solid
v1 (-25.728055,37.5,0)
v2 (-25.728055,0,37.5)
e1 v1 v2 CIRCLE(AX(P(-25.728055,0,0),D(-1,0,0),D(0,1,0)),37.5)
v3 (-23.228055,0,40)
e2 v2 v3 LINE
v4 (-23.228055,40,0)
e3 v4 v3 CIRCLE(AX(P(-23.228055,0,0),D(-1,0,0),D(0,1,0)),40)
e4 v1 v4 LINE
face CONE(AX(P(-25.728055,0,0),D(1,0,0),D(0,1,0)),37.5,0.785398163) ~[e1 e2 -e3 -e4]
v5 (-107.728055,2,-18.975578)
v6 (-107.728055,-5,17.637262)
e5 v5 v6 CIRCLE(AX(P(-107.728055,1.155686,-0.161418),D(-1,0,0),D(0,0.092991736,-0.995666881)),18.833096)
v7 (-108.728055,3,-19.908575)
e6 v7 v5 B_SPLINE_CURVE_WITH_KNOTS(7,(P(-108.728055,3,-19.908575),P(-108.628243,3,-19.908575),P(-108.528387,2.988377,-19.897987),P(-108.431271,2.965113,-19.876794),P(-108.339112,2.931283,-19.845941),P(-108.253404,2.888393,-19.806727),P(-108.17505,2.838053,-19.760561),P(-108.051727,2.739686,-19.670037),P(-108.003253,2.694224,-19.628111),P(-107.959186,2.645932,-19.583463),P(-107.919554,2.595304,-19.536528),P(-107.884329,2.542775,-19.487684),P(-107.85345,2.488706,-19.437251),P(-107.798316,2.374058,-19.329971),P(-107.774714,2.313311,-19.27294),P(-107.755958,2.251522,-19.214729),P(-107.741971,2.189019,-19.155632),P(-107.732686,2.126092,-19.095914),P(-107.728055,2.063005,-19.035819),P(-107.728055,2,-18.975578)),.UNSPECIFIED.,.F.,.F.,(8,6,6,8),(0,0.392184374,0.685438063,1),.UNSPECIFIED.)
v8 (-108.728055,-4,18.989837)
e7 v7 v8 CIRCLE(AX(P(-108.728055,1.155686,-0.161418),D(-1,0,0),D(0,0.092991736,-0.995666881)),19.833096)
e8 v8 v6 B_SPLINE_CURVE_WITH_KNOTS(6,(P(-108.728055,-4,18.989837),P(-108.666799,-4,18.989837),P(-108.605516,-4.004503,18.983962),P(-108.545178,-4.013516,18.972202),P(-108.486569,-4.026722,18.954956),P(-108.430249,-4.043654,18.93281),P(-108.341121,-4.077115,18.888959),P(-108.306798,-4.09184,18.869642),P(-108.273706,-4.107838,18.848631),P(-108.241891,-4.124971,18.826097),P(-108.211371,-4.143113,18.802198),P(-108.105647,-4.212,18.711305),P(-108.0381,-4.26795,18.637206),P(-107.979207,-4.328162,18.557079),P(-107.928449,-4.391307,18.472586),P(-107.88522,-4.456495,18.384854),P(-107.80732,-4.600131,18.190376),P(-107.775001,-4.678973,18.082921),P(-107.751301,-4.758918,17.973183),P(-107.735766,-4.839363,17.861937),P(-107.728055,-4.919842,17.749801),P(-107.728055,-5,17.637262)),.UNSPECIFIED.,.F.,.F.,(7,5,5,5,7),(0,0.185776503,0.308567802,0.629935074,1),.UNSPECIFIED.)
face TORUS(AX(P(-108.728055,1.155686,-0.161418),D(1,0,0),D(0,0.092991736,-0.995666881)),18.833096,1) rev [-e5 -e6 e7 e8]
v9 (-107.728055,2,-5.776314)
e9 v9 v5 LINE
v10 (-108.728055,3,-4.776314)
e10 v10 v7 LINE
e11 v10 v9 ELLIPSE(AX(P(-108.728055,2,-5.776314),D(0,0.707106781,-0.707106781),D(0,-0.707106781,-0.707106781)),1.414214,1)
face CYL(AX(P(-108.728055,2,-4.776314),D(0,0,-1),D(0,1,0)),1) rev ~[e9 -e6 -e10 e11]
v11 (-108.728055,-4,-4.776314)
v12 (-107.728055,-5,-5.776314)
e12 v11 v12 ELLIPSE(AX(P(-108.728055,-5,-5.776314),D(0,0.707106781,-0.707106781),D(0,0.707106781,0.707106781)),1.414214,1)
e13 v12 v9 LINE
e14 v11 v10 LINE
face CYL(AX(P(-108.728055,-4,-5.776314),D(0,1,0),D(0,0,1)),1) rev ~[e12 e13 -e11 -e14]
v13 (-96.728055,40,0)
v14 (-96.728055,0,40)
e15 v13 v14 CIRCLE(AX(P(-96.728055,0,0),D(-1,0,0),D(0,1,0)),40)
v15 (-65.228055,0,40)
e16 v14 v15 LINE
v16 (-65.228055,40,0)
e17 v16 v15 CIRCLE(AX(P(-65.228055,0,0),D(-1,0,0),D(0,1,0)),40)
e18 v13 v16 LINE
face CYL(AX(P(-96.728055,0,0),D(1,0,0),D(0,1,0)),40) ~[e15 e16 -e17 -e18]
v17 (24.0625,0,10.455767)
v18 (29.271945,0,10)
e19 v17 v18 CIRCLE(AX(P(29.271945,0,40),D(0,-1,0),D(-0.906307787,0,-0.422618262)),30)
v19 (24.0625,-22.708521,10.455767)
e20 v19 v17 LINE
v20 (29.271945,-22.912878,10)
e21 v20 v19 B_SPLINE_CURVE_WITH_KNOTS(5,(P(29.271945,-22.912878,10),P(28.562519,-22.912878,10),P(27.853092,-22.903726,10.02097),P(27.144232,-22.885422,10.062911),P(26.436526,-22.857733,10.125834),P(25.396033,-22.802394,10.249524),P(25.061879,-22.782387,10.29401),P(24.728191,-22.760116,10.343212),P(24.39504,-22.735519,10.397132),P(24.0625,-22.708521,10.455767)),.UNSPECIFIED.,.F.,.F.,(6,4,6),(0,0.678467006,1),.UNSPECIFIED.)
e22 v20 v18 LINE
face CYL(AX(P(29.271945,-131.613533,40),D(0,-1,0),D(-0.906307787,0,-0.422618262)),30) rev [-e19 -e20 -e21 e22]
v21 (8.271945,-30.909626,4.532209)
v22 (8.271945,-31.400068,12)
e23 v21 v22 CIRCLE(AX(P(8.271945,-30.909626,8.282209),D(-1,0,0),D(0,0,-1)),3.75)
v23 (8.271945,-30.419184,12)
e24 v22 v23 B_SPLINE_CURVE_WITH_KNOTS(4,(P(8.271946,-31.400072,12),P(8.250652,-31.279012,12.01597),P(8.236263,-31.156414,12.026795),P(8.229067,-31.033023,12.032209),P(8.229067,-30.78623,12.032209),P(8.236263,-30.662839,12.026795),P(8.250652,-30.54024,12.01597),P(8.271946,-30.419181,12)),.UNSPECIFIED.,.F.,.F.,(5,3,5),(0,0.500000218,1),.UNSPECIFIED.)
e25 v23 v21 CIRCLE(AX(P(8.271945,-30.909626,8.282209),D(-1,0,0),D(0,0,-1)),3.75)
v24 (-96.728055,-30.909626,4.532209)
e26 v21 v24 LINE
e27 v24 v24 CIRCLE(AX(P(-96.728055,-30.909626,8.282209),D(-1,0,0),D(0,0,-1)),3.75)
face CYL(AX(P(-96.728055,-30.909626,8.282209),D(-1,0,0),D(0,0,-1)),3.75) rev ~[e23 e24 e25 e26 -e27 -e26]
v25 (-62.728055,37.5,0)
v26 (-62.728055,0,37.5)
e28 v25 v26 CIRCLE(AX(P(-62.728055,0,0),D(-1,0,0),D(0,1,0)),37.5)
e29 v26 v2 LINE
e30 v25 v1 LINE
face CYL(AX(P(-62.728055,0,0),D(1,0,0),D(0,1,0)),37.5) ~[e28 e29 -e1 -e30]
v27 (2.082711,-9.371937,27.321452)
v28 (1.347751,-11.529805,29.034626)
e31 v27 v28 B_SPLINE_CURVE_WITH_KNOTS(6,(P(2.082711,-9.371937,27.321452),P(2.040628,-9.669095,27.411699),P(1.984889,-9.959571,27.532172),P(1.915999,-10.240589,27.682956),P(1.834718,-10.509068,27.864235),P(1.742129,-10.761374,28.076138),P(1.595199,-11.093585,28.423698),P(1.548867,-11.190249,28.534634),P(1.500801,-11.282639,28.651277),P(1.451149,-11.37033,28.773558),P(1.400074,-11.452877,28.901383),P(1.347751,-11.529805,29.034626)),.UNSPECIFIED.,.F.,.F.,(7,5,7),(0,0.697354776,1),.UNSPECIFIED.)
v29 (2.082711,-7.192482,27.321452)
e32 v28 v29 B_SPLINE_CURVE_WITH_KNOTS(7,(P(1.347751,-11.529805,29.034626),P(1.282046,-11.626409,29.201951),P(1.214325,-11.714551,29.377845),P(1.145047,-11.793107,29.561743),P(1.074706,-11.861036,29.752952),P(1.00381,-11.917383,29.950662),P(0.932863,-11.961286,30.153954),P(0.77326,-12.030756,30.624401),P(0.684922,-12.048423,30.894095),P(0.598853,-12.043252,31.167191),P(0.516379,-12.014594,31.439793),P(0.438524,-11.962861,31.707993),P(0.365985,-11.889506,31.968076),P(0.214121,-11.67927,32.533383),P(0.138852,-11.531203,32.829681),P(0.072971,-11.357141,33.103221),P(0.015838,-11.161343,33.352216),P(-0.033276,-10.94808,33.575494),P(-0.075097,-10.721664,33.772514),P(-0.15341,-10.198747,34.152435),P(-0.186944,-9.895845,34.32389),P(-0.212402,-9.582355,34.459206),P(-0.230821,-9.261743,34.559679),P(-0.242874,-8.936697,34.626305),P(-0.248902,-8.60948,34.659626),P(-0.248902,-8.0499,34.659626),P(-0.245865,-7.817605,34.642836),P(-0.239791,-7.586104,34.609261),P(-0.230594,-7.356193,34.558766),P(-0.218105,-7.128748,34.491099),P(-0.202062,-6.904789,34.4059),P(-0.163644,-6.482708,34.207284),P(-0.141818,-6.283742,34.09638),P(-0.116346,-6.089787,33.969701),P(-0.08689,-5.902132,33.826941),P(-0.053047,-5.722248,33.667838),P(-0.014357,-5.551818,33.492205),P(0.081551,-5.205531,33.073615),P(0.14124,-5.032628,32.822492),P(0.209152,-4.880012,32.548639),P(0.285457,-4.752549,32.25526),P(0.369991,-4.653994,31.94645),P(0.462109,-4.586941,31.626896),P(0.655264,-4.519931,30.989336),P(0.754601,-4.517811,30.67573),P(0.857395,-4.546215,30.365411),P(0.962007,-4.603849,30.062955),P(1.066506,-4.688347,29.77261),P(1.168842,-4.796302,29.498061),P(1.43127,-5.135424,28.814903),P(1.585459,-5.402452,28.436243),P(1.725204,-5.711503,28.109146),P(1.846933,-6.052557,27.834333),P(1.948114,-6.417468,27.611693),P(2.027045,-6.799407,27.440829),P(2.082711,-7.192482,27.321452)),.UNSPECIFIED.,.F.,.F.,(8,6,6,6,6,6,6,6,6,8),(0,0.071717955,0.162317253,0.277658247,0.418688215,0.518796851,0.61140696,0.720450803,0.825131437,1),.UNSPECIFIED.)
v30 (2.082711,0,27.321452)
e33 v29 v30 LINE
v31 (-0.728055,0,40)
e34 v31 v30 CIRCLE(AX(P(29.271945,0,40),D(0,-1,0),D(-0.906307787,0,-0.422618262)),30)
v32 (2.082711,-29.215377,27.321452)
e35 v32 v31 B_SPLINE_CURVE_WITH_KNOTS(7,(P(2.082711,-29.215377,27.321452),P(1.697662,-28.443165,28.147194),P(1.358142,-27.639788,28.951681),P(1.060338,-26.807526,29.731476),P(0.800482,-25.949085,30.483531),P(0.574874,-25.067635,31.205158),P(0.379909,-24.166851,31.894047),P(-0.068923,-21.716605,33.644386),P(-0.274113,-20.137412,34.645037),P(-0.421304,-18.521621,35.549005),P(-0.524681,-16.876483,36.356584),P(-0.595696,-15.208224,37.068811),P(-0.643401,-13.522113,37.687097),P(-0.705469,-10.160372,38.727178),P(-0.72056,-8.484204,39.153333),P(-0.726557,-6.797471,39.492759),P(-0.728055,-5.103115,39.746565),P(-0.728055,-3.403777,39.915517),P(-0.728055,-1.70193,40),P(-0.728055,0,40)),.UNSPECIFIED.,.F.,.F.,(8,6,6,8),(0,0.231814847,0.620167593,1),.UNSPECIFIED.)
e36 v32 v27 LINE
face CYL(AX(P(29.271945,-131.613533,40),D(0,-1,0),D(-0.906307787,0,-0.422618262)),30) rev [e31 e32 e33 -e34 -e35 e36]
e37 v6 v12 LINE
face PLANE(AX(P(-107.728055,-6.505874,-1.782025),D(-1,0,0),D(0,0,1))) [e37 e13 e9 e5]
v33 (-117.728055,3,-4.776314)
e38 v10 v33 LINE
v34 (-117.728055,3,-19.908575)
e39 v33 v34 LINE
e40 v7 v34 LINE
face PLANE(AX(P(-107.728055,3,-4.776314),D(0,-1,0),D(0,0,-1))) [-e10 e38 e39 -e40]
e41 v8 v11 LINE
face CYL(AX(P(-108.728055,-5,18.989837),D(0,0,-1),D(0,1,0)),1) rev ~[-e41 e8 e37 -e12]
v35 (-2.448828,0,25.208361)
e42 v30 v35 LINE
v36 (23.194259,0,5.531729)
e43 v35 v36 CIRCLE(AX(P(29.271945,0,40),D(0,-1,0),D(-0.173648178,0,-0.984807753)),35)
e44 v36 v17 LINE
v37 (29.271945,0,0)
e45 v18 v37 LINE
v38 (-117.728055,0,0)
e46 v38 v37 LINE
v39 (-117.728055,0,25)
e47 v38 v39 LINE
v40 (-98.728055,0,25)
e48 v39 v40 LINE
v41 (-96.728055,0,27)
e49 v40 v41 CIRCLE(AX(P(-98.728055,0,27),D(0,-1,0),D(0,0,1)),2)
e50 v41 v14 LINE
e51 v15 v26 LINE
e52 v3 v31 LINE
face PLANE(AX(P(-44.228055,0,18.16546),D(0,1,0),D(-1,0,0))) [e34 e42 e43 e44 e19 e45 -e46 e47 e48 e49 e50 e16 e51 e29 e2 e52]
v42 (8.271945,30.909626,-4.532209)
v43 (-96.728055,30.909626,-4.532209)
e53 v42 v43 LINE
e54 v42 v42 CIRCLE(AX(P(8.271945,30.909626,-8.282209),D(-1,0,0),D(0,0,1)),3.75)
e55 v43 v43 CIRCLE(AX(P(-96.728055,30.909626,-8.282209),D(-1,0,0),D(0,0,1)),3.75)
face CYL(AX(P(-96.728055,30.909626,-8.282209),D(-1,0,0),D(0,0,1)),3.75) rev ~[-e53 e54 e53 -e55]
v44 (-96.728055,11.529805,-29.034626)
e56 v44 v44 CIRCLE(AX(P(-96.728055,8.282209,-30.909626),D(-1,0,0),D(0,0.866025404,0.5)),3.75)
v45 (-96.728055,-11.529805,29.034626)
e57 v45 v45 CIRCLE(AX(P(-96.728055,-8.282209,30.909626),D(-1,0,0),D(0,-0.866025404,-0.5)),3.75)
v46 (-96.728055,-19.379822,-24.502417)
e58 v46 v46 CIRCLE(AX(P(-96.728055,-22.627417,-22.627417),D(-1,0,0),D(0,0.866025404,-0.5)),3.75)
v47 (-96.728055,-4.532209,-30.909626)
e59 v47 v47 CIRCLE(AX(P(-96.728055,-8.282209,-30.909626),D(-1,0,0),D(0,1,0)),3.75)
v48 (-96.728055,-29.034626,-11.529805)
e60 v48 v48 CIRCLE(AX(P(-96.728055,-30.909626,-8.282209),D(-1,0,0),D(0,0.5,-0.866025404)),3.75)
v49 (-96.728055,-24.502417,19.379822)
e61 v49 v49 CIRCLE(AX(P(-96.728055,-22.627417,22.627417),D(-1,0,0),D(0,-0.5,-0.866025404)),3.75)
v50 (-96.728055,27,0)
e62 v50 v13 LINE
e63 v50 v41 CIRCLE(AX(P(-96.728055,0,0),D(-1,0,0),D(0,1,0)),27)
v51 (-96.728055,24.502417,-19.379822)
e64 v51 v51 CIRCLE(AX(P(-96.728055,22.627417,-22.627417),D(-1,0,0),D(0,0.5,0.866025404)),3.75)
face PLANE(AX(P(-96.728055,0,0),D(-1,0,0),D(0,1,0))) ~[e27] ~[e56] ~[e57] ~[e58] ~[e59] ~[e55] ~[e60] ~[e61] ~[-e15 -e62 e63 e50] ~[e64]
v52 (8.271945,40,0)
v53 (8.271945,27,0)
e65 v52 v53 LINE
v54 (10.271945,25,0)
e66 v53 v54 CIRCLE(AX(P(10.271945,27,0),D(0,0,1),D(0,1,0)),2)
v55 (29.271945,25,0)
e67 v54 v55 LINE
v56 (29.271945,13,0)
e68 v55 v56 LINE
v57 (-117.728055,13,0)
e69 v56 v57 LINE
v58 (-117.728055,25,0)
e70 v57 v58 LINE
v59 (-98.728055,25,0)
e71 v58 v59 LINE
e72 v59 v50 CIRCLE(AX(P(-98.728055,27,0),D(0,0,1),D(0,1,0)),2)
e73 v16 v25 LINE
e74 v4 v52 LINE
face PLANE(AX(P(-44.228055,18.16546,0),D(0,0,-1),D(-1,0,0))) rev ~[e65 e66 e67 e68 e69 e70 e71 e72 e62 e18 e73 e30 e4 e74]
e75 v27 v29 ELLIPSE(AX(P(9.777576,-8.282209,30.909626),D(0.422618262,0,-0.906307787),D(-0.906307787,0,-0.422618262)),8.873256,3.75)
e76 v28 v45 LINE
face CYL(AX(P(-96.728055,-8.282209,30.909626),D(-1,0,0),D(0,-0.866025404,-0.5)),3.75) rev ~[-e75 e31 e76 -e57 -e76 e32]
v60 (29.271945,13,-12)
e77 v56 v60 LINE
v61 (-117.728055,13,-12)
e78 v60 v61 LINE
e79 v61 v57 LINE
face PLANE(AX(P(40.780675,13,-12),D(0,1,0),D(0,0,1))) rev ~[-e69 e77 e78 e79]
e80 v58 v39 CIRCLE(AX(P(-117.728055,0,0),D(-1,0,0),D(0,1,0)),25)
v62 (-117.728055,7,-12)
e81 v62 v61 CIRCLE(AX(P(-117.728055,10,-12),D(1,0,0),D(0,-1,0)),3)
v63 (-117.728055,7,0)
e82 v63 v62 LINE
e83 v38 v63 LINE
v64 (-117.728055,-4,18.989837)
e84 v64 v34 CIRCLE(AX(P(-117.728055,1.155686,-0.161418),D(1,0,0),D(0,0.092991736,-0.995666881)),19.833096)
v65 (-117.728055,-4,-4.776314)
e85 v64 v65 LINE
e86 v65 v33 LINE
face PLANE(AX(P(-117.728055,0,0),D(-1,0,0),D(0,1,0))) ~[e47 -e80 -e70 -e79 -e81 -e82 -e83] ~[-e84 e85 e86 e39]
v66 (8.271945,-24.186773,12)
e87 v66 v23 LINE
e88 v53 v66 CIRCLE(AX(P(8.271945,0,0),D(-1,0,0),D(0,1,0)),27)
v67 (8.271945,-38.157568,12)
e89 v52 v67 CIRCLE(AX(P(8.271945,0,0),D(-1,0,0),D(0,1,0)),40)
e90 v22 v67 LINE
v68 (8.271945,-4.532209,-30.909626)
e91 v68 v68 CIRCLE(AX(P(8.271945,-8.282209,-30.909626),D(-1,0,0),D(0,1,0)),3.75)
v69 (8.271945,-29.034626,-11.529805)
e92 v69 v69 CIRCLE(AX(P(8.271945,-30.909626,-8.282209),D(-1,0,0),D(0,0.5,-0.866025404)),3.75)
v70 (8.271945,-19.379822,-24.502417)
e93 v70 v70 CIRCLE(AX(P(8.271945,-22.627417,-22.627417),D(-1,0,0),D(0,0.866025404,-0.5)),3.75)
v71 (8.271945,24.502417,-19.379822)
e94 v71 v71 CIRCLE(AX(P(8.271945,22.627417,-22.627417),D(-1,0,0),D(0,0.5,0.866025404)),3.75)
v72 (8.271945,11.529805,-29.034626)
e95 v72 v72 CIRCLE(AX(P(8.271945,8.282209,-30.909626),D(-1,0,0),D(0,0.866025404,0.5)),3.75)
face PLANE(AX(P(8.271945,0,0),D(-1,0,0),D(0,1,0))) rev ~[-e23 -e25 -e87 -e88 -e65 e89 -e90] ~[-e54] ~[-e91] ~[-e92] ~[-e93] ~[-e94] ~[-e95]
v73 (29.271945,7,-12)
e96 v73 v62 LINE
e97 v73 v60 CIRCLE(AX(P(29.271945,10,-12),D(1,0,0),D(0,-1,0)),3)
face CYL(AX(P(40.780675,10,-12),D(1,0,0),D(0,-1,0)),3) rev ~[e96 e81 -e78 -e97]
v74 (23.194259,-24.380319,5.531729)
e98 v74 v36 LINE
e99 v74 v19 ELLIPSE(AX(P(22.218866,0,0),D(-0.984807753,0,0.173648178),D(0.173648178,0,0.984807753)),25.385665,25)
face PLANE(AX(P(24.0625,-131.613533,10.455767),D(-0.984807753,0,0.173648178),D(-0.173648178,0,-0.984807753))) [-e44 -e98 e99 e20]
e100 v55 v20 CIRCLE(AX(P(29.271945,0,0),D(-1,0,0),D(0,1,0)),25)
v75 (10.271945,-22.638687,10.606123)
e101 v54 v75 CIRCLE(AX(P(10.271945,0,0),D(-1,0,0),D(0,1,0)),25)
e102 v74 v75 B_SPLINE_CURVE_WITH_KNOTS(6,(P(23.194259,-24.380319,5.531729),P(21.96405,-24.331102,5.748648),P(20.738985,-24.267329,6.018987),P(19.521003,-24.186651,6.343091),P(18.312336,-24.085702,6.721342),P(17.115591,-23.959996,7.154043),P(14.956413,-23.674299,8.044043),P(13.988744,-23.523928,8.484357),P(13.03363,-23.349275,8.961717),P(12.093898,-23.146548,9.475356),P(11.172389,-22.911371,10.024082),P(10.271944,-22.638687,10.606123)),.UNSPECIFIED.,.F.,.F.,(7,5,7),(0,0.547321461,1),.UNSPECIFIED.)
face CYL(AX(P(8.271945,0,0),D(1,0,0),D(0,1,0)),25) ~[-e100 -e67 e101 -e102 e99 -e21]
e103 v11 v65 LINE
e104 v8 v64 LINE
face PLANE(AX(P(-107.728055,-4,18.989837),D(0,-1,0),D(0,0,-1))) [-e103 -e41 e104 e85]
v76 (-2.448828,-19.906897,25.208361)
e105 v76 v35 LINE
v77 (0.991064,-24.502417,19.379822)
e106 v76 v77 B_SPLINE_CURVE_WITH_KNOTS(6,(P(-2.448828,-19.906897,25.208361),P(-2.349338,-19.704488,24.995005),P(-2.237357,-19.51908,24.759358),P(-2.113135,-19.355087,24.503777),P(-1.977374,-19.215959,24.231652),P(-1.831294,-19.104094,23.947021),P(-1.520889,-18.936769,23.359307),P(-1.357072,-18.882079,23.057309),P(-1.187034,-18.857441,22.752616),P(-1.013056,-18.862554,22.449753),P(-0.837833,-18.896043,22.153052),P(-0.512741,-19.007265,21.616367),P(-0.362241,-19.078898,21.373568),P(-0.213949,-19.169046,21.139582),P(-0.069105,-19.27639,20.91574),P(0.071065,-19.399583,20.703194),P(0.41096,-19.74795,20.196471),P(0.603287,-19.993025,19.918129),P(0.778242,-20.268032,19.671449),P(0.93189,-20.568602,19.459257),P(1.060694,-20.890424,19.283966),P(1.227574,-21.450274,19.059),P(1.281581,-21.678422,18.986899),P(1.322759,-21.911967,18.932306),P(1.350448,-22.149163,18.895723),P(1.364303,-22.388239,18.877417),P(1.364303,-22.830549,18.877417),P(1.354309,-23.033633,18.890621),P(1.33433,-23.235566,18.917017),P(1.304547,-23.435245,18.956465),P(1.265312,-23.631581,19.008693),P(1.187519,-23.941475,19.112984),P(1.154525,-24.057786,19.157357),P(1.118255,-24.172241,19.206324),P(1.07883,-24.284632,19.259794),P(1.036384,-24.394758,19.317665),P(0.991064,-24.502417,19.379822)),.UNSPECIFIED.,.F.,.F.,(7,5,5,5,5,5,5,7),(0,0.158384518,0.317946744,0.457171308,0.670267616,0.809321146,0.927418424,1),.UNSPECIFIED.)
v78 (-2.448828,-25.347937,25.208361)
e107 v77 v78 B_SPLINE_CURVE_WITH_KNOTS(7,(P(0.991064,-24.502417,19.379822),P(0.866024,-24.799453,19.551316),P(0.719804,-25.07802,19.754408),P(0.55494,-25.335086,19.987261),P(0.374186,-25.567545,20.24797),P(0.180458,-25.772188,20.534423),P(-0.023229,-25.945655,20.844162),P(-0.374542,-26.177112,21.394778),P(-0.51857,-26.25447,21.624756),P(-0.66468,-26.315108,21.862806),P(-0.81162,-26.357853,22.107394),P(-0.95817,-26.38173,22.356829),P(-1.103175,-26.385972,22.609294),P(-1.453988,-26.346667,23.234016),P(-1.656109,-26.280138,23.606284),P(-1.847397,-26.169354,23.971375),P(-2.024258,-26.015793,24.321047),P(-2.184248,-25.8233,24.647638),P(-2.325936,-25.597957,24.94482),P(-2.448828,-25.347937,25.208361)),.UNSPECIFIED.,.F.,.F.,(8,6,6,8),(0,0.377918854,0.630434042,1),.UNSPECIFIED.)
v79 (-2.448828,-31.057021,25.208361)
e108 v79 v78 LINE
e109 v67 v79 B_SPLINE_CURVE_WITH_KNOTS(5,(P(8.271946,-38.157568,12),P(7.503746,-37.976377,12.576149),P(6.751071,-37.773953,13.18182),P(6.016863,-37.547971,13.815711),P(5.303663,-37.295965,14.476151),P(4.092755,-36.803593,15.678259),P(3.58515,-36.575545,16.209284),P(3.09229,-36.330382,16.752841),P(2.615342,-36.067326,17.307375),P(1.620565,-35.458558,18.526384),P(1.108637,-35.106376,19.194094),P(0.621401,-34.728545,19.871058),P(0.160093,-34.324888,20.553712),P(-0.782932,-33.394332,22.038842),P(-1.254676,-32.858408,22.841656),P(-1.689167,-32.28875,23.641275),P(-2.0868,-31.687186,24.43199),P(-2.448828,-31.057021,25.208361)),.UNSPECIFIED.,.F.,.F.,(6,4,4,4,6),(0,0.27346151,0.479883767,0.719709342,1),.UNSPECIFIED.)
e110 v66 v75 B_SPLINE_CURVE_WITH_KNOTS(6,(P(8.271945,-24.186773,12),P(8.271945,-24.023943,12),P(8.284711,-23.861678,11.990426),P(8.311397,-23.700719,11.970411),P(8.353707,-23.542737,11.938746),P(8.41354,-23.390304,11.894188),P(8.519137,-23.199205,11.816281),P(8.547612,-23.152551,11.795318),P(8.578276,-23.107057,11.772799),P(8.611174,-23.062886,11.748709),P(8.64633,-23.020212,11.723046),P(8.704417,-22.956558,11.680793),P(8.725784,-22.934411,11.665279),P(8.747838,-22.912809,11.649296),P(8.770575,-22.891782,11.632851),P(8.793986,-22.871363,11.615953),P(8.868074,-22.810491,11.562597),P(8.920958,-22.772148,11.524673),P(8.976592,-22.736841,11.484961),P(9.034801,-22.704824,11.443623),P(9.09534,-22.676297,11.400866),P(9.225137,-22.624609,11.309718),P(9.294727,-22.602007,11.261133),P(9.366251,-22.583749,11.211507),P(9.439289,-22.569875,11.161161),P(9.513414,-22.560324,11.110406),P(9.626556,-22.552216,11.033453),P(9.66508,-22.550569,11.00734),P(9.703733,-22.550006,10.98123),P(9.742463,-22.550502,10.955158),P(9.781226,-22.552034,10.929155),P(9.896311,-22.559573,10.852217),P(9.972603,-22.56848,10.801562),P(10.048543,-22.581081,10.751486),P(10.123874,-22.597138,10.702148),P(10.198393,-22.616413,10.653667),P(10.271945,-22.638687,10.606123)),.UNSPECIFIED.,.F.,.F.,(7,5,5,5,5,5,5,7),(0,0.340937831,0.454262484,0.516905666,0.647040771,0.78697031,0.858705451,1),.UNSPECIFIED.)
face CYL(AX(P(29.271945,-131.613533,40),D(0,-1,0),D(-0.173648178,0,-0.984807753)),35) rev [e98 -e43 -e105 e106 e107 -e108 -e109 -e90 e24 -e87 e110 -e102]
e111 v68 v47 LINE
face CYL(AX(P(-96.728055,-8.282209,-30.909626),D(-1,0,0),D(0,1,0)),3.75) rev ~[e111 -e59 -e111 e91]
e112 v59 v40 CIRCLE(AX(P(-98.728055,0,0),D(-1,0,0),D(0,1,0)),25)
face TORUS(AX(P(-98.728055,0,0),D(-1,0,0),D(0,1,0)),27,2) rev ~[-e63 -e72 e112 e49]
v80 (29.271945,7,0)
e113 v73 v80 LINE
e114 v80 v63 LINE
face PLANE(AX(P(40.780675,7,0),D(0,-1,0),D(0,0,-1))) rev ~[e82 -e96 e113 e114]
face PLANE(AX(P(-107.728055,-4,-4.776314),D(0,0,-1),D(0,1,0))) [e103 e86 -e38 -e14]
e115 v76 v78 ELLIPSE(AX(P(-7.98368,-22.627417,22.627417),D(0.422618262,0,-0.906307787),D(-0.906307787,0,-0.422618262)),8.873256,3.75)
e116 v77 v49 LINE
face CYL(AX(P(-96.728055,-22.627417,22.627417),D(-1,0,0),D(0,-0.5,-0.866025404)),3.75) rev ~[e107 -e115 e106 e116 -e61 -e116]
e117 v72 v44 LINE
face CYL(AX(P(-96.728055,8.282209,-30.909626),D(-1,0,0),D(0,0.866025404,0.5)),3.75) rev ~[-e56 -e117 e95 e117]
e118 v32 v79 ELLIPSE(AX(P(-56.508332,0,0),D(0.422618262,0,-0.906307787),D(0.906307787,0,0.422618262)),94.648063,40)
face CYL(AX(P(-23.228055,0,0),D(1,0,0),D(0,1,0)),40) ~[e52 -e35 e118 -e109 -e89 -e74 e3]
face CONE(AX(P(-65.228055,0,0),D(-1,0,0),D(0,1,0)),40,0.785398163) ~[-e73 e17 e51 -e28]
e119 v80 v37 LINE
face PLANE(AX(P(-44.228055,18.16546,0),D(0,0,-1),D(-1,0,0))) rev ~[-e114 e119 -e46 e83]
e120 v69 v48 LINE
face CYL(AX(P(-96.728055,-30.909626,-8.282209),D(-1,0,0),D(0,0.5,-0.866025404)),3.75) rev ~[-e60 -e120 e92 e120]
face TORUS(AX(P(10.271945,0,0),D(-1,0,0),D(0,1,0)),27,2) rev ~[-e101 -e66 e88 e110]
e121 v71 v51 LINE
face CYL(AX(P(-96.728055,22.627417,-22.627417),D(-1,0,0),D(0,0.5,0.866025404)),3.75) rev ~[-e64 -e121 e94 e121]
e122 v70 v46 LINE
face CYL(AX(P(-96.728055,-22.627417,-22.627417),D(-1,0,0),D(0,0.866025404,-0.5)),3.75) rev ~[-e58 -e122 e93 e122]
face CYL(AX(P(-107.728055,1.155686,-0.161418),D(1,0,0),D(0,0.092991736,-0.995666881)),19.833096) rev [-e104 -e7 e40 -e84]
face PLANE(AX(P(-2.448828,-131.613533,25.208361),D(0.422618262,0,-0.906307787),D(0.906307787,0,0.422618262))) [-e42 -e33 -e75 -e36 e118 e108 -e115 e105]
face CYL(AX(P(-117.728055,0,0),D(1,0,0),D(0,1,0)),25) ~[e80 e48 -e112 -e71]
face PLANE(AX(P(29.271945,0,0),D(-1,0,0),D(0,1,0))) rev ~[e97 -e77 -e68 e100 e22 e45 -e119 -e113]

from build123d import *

# Parameters (mm, degrees)
R_VOLUTION1_ANGLE            = 270
ENL_V_MAT_EXTRU_1_DEPTH      = 158.508729917
ENL_V_MAT_EXTRU_1_DEPTH_BACK = 158.508729917
CONG_1_R                     = 2
ESQUISSE6_R                  = 3.75
ENL_V_MAT_EXTRU_2_DEPTH      = 139.115893365
R_P_TITION_CIRCULAIRE2_COUNT = 12
ENL_V_MAT_EXTRU_3_DEPTH      = 131.613532807
ENL_V_MAT_EXTRU_3_DEPTH_BACK = 131.613532807
ESQUISSE9_R                  = 30
ENL_V_MAT_EXTRU_4_DEPTH      = 158.508730061
ENL_V_MAT_EXTRU_4_DEPTH_BACK = 10
CONG_2_R                     = 1


with BuildPart() as part:
    # Esquisse1 → Révolution1 (revolve)
    with BuildSketch(Plane.XY):
        Polygon((0, 0), (-117.728055077, 0), (-117.728055077, 25), (-96.728055077, 25), (-96.728055077, 40), (-65.228055077, 40), (-62.728055077, 37.5), (-25.728055077, 37.5), (-23.228055077, 40), (8.271944923, 40), (8.271944923, 25), (29.271944923, 25), (29.271944923, 0), align=None)
    revolve(axis=Axis((0, 0, 0), (-1, 0, 0)), revolution_arc=R_VOLUTION1_ANGLE)

    # Esquisse3 → Enlèv. mat.-Extru.1 (cut, two sides: drawn at the far end of the back side and taken through both)
    with BuildSketch(Plane.ZY.offset(117.728055077).offset(-ENL_V_MAT_EXTRU_1_DEPTH_BACK)):
        with BuildLine():
            Line((-12, 13), (0, 13))
            ThreePointArc((0, 13), (3, 10), (0, 7))
            Line((0, 7), (-12, 7))
            ThreePointArc((-12, 7), (-15, 10), (-12, 13))
        make_face()
    extrude(amount=ENL_V_MAT_EXTRU_1_DEPTH + ENL_V_MAT_EXTRU_1_DEPTH_BACK, mode=Mode.SUBTRACT)

    # Congé1
    cong_1_edges = [part.edges().sort_by_distance(p)[0] for p in [
        (8.271944923, -17.67766953, -17.67766953),
        (-96.728055077, -17.67766953, -17.67766953),
    ]]
    fillet(cong_1_edges, radius=CONG_1_R)

    # Esquisse6 → Enlèv. mat.-Extru.2 (cut, symmetric)
    with BuildSketch(Plane.ZY.offset(96.728055077)):
        with Locations((-8.282209443, 30.909626441)):
            Circle(ESQUISSE6_R)
    enl_v_mat_extru_2 = extrude(amount=ENL_V_MAT_EXTRU_2_DEPTH, both=True, mode=Mode.SUBTRACT)

    # Répétition circulaire2: Enlèv. mat.-Extru.2 ×12 about axis
    r_p_tition_circulaire2_axis = Axis((0, 0, 0), (1, 0, 0))
    for i in range(1, R_P_TITION_CIRCULAIRE2_COUNT):
        add(enl_v_mat_extru_2.rotate(r_p_tition_circulaire2_axis, i * 360 / R_P_TITION_CIRCULAIRE2_COUNT), mode=Mode.SUBTRACT)

    # Esquisse9 → Enlèv. mat.-Extru.3 (cut, two sides: drawn at the far end of the back side and taken through both)
    with BuildSketch(Plane(origin=(0, 0, 0), x_dir=(1, 0, 0), z_dir=(0, 1, 0)).offset(-ENL_V_MAT_EXTRU_3_DEPTH_BACK)):
        with Locations((29.271944923, -40)):
            Circle(ESQUISSE9_R)
        with BuildLine():
            Line((29.271944923, -40), (23.194258704, -5.531728645))
            ThreePointArc((23.194258704, -5.531728645), (7.965294907, -12.23263309), (-2.448827624, -25.208360839))
            Line((-2.448827624, -25.208360839), (29.271944923, -40))
        make_face()
        with BuildLine():
            Line((29.271944923, -10), (29.271944923, -25))
            Line((29.271944923, -25), (29.271944923, -40))
            Line((29.271944923, -40), (8.271944923, -40))
            Line((8.271944923, -40), (-0.728055077, -40))
            ThreePointArc((-0.728055077, -40), (29.271944923, -70), (59.271944923, -40))
            ThreePointArc((59.271944923, -40), (50.485148358, -18.786796564), (29.271944923, -10))
        make_face()
        with BuildLine():
            Line((-0.728055077, -40), (8.271944923, -40))
            Line((8.271944923, -40), (8.271944923, -30.207539179))
            Line((8.271944923, -30.207539179), (2.082711311, -27.321452148))
            ThreePointArc((2.082711311, -27.321452148), (-0.016935291, -33.506811582), (-0.728055077, -40))
        make_face()
        with BuildLine():
            Line((26.627040212, -25), (29.271944923, -25))
            Line((29.271944923, -25), (29.271944923, -10))
            ThreePointArc((29.271944923, -10), (26.65727264, -10.114159057), (24.062499593, -10.45576741))
            Line((24.062499593, -10.45576741), (26.627040212, -25))
        make_face()
        with BuildLine():
            Line((10.271944923, -25), (26.627040212, -25))
            Line((26.627040212, -25), (24.062499593, -10.45576741))
            ThreePointArc((24.062499593, -10.45576741), (11.009102052, -16.199399791), (2.082711311, -27.321452148))
            Line((2.082711311, -27.321452148), (8.271944923, -30.207539179))
            Line((8.271944923, -30.207539179), (8.271944923, -27))
            ThreePointArc((8.271944923, -27), (8.85773136, -25.585786438), (10.271944923, -25))
        make_face()
    extrude(amount=ENL_V_MAT_EXTRU_3_DEPTH + ENL_V_MAT_EXTRU_3_DEPTH_BACK, mode=Mode.SUBTRACT)

    # Esquisse10 → Enlèv. mat.-Extru.4 (cut, two sides: drawn at the far end of the back side and taken through both)
    with BuildSketch(Plane.ZY.offset(117.728055077).offset(-ENL_V_MAT_EXTRU_4_DEPTH_BACK)):
        with BuildLine():
            Line((-4.776313653, 3), (-19.908574626, 3))
            ThreePointArc((-19.908574626, 3), (-3.674077438, -18.363865829), (18.989837064, -4))
            Line((18.989837064, -4), (-4.776313653, -4))
            Line((-4.776313653, -4), (-4.776313653, 3))
        make_face()
    extrude(amount=ENL_V_MAT_EXTRU_4_DEPTH + ENL_V_MAT_EXTRU_4_DEPTH_BACK, mode=Mode.SUBTRACT)

    # Congé2
    cong_2_edges = [part.edges().sort_by_distance(p)[0] for p in [
        (-107.728055077, 3, -12.342444139),
        (-107.728055077, -18.363865829, -3.674077438),
        (-107.728055077, -0.5, -4.776313653),
        (-107.728055077, -4, 7.106761705),
    ]]
    fillet(cong_2_edges, radius=CONG_2_R)


solid = part.part
